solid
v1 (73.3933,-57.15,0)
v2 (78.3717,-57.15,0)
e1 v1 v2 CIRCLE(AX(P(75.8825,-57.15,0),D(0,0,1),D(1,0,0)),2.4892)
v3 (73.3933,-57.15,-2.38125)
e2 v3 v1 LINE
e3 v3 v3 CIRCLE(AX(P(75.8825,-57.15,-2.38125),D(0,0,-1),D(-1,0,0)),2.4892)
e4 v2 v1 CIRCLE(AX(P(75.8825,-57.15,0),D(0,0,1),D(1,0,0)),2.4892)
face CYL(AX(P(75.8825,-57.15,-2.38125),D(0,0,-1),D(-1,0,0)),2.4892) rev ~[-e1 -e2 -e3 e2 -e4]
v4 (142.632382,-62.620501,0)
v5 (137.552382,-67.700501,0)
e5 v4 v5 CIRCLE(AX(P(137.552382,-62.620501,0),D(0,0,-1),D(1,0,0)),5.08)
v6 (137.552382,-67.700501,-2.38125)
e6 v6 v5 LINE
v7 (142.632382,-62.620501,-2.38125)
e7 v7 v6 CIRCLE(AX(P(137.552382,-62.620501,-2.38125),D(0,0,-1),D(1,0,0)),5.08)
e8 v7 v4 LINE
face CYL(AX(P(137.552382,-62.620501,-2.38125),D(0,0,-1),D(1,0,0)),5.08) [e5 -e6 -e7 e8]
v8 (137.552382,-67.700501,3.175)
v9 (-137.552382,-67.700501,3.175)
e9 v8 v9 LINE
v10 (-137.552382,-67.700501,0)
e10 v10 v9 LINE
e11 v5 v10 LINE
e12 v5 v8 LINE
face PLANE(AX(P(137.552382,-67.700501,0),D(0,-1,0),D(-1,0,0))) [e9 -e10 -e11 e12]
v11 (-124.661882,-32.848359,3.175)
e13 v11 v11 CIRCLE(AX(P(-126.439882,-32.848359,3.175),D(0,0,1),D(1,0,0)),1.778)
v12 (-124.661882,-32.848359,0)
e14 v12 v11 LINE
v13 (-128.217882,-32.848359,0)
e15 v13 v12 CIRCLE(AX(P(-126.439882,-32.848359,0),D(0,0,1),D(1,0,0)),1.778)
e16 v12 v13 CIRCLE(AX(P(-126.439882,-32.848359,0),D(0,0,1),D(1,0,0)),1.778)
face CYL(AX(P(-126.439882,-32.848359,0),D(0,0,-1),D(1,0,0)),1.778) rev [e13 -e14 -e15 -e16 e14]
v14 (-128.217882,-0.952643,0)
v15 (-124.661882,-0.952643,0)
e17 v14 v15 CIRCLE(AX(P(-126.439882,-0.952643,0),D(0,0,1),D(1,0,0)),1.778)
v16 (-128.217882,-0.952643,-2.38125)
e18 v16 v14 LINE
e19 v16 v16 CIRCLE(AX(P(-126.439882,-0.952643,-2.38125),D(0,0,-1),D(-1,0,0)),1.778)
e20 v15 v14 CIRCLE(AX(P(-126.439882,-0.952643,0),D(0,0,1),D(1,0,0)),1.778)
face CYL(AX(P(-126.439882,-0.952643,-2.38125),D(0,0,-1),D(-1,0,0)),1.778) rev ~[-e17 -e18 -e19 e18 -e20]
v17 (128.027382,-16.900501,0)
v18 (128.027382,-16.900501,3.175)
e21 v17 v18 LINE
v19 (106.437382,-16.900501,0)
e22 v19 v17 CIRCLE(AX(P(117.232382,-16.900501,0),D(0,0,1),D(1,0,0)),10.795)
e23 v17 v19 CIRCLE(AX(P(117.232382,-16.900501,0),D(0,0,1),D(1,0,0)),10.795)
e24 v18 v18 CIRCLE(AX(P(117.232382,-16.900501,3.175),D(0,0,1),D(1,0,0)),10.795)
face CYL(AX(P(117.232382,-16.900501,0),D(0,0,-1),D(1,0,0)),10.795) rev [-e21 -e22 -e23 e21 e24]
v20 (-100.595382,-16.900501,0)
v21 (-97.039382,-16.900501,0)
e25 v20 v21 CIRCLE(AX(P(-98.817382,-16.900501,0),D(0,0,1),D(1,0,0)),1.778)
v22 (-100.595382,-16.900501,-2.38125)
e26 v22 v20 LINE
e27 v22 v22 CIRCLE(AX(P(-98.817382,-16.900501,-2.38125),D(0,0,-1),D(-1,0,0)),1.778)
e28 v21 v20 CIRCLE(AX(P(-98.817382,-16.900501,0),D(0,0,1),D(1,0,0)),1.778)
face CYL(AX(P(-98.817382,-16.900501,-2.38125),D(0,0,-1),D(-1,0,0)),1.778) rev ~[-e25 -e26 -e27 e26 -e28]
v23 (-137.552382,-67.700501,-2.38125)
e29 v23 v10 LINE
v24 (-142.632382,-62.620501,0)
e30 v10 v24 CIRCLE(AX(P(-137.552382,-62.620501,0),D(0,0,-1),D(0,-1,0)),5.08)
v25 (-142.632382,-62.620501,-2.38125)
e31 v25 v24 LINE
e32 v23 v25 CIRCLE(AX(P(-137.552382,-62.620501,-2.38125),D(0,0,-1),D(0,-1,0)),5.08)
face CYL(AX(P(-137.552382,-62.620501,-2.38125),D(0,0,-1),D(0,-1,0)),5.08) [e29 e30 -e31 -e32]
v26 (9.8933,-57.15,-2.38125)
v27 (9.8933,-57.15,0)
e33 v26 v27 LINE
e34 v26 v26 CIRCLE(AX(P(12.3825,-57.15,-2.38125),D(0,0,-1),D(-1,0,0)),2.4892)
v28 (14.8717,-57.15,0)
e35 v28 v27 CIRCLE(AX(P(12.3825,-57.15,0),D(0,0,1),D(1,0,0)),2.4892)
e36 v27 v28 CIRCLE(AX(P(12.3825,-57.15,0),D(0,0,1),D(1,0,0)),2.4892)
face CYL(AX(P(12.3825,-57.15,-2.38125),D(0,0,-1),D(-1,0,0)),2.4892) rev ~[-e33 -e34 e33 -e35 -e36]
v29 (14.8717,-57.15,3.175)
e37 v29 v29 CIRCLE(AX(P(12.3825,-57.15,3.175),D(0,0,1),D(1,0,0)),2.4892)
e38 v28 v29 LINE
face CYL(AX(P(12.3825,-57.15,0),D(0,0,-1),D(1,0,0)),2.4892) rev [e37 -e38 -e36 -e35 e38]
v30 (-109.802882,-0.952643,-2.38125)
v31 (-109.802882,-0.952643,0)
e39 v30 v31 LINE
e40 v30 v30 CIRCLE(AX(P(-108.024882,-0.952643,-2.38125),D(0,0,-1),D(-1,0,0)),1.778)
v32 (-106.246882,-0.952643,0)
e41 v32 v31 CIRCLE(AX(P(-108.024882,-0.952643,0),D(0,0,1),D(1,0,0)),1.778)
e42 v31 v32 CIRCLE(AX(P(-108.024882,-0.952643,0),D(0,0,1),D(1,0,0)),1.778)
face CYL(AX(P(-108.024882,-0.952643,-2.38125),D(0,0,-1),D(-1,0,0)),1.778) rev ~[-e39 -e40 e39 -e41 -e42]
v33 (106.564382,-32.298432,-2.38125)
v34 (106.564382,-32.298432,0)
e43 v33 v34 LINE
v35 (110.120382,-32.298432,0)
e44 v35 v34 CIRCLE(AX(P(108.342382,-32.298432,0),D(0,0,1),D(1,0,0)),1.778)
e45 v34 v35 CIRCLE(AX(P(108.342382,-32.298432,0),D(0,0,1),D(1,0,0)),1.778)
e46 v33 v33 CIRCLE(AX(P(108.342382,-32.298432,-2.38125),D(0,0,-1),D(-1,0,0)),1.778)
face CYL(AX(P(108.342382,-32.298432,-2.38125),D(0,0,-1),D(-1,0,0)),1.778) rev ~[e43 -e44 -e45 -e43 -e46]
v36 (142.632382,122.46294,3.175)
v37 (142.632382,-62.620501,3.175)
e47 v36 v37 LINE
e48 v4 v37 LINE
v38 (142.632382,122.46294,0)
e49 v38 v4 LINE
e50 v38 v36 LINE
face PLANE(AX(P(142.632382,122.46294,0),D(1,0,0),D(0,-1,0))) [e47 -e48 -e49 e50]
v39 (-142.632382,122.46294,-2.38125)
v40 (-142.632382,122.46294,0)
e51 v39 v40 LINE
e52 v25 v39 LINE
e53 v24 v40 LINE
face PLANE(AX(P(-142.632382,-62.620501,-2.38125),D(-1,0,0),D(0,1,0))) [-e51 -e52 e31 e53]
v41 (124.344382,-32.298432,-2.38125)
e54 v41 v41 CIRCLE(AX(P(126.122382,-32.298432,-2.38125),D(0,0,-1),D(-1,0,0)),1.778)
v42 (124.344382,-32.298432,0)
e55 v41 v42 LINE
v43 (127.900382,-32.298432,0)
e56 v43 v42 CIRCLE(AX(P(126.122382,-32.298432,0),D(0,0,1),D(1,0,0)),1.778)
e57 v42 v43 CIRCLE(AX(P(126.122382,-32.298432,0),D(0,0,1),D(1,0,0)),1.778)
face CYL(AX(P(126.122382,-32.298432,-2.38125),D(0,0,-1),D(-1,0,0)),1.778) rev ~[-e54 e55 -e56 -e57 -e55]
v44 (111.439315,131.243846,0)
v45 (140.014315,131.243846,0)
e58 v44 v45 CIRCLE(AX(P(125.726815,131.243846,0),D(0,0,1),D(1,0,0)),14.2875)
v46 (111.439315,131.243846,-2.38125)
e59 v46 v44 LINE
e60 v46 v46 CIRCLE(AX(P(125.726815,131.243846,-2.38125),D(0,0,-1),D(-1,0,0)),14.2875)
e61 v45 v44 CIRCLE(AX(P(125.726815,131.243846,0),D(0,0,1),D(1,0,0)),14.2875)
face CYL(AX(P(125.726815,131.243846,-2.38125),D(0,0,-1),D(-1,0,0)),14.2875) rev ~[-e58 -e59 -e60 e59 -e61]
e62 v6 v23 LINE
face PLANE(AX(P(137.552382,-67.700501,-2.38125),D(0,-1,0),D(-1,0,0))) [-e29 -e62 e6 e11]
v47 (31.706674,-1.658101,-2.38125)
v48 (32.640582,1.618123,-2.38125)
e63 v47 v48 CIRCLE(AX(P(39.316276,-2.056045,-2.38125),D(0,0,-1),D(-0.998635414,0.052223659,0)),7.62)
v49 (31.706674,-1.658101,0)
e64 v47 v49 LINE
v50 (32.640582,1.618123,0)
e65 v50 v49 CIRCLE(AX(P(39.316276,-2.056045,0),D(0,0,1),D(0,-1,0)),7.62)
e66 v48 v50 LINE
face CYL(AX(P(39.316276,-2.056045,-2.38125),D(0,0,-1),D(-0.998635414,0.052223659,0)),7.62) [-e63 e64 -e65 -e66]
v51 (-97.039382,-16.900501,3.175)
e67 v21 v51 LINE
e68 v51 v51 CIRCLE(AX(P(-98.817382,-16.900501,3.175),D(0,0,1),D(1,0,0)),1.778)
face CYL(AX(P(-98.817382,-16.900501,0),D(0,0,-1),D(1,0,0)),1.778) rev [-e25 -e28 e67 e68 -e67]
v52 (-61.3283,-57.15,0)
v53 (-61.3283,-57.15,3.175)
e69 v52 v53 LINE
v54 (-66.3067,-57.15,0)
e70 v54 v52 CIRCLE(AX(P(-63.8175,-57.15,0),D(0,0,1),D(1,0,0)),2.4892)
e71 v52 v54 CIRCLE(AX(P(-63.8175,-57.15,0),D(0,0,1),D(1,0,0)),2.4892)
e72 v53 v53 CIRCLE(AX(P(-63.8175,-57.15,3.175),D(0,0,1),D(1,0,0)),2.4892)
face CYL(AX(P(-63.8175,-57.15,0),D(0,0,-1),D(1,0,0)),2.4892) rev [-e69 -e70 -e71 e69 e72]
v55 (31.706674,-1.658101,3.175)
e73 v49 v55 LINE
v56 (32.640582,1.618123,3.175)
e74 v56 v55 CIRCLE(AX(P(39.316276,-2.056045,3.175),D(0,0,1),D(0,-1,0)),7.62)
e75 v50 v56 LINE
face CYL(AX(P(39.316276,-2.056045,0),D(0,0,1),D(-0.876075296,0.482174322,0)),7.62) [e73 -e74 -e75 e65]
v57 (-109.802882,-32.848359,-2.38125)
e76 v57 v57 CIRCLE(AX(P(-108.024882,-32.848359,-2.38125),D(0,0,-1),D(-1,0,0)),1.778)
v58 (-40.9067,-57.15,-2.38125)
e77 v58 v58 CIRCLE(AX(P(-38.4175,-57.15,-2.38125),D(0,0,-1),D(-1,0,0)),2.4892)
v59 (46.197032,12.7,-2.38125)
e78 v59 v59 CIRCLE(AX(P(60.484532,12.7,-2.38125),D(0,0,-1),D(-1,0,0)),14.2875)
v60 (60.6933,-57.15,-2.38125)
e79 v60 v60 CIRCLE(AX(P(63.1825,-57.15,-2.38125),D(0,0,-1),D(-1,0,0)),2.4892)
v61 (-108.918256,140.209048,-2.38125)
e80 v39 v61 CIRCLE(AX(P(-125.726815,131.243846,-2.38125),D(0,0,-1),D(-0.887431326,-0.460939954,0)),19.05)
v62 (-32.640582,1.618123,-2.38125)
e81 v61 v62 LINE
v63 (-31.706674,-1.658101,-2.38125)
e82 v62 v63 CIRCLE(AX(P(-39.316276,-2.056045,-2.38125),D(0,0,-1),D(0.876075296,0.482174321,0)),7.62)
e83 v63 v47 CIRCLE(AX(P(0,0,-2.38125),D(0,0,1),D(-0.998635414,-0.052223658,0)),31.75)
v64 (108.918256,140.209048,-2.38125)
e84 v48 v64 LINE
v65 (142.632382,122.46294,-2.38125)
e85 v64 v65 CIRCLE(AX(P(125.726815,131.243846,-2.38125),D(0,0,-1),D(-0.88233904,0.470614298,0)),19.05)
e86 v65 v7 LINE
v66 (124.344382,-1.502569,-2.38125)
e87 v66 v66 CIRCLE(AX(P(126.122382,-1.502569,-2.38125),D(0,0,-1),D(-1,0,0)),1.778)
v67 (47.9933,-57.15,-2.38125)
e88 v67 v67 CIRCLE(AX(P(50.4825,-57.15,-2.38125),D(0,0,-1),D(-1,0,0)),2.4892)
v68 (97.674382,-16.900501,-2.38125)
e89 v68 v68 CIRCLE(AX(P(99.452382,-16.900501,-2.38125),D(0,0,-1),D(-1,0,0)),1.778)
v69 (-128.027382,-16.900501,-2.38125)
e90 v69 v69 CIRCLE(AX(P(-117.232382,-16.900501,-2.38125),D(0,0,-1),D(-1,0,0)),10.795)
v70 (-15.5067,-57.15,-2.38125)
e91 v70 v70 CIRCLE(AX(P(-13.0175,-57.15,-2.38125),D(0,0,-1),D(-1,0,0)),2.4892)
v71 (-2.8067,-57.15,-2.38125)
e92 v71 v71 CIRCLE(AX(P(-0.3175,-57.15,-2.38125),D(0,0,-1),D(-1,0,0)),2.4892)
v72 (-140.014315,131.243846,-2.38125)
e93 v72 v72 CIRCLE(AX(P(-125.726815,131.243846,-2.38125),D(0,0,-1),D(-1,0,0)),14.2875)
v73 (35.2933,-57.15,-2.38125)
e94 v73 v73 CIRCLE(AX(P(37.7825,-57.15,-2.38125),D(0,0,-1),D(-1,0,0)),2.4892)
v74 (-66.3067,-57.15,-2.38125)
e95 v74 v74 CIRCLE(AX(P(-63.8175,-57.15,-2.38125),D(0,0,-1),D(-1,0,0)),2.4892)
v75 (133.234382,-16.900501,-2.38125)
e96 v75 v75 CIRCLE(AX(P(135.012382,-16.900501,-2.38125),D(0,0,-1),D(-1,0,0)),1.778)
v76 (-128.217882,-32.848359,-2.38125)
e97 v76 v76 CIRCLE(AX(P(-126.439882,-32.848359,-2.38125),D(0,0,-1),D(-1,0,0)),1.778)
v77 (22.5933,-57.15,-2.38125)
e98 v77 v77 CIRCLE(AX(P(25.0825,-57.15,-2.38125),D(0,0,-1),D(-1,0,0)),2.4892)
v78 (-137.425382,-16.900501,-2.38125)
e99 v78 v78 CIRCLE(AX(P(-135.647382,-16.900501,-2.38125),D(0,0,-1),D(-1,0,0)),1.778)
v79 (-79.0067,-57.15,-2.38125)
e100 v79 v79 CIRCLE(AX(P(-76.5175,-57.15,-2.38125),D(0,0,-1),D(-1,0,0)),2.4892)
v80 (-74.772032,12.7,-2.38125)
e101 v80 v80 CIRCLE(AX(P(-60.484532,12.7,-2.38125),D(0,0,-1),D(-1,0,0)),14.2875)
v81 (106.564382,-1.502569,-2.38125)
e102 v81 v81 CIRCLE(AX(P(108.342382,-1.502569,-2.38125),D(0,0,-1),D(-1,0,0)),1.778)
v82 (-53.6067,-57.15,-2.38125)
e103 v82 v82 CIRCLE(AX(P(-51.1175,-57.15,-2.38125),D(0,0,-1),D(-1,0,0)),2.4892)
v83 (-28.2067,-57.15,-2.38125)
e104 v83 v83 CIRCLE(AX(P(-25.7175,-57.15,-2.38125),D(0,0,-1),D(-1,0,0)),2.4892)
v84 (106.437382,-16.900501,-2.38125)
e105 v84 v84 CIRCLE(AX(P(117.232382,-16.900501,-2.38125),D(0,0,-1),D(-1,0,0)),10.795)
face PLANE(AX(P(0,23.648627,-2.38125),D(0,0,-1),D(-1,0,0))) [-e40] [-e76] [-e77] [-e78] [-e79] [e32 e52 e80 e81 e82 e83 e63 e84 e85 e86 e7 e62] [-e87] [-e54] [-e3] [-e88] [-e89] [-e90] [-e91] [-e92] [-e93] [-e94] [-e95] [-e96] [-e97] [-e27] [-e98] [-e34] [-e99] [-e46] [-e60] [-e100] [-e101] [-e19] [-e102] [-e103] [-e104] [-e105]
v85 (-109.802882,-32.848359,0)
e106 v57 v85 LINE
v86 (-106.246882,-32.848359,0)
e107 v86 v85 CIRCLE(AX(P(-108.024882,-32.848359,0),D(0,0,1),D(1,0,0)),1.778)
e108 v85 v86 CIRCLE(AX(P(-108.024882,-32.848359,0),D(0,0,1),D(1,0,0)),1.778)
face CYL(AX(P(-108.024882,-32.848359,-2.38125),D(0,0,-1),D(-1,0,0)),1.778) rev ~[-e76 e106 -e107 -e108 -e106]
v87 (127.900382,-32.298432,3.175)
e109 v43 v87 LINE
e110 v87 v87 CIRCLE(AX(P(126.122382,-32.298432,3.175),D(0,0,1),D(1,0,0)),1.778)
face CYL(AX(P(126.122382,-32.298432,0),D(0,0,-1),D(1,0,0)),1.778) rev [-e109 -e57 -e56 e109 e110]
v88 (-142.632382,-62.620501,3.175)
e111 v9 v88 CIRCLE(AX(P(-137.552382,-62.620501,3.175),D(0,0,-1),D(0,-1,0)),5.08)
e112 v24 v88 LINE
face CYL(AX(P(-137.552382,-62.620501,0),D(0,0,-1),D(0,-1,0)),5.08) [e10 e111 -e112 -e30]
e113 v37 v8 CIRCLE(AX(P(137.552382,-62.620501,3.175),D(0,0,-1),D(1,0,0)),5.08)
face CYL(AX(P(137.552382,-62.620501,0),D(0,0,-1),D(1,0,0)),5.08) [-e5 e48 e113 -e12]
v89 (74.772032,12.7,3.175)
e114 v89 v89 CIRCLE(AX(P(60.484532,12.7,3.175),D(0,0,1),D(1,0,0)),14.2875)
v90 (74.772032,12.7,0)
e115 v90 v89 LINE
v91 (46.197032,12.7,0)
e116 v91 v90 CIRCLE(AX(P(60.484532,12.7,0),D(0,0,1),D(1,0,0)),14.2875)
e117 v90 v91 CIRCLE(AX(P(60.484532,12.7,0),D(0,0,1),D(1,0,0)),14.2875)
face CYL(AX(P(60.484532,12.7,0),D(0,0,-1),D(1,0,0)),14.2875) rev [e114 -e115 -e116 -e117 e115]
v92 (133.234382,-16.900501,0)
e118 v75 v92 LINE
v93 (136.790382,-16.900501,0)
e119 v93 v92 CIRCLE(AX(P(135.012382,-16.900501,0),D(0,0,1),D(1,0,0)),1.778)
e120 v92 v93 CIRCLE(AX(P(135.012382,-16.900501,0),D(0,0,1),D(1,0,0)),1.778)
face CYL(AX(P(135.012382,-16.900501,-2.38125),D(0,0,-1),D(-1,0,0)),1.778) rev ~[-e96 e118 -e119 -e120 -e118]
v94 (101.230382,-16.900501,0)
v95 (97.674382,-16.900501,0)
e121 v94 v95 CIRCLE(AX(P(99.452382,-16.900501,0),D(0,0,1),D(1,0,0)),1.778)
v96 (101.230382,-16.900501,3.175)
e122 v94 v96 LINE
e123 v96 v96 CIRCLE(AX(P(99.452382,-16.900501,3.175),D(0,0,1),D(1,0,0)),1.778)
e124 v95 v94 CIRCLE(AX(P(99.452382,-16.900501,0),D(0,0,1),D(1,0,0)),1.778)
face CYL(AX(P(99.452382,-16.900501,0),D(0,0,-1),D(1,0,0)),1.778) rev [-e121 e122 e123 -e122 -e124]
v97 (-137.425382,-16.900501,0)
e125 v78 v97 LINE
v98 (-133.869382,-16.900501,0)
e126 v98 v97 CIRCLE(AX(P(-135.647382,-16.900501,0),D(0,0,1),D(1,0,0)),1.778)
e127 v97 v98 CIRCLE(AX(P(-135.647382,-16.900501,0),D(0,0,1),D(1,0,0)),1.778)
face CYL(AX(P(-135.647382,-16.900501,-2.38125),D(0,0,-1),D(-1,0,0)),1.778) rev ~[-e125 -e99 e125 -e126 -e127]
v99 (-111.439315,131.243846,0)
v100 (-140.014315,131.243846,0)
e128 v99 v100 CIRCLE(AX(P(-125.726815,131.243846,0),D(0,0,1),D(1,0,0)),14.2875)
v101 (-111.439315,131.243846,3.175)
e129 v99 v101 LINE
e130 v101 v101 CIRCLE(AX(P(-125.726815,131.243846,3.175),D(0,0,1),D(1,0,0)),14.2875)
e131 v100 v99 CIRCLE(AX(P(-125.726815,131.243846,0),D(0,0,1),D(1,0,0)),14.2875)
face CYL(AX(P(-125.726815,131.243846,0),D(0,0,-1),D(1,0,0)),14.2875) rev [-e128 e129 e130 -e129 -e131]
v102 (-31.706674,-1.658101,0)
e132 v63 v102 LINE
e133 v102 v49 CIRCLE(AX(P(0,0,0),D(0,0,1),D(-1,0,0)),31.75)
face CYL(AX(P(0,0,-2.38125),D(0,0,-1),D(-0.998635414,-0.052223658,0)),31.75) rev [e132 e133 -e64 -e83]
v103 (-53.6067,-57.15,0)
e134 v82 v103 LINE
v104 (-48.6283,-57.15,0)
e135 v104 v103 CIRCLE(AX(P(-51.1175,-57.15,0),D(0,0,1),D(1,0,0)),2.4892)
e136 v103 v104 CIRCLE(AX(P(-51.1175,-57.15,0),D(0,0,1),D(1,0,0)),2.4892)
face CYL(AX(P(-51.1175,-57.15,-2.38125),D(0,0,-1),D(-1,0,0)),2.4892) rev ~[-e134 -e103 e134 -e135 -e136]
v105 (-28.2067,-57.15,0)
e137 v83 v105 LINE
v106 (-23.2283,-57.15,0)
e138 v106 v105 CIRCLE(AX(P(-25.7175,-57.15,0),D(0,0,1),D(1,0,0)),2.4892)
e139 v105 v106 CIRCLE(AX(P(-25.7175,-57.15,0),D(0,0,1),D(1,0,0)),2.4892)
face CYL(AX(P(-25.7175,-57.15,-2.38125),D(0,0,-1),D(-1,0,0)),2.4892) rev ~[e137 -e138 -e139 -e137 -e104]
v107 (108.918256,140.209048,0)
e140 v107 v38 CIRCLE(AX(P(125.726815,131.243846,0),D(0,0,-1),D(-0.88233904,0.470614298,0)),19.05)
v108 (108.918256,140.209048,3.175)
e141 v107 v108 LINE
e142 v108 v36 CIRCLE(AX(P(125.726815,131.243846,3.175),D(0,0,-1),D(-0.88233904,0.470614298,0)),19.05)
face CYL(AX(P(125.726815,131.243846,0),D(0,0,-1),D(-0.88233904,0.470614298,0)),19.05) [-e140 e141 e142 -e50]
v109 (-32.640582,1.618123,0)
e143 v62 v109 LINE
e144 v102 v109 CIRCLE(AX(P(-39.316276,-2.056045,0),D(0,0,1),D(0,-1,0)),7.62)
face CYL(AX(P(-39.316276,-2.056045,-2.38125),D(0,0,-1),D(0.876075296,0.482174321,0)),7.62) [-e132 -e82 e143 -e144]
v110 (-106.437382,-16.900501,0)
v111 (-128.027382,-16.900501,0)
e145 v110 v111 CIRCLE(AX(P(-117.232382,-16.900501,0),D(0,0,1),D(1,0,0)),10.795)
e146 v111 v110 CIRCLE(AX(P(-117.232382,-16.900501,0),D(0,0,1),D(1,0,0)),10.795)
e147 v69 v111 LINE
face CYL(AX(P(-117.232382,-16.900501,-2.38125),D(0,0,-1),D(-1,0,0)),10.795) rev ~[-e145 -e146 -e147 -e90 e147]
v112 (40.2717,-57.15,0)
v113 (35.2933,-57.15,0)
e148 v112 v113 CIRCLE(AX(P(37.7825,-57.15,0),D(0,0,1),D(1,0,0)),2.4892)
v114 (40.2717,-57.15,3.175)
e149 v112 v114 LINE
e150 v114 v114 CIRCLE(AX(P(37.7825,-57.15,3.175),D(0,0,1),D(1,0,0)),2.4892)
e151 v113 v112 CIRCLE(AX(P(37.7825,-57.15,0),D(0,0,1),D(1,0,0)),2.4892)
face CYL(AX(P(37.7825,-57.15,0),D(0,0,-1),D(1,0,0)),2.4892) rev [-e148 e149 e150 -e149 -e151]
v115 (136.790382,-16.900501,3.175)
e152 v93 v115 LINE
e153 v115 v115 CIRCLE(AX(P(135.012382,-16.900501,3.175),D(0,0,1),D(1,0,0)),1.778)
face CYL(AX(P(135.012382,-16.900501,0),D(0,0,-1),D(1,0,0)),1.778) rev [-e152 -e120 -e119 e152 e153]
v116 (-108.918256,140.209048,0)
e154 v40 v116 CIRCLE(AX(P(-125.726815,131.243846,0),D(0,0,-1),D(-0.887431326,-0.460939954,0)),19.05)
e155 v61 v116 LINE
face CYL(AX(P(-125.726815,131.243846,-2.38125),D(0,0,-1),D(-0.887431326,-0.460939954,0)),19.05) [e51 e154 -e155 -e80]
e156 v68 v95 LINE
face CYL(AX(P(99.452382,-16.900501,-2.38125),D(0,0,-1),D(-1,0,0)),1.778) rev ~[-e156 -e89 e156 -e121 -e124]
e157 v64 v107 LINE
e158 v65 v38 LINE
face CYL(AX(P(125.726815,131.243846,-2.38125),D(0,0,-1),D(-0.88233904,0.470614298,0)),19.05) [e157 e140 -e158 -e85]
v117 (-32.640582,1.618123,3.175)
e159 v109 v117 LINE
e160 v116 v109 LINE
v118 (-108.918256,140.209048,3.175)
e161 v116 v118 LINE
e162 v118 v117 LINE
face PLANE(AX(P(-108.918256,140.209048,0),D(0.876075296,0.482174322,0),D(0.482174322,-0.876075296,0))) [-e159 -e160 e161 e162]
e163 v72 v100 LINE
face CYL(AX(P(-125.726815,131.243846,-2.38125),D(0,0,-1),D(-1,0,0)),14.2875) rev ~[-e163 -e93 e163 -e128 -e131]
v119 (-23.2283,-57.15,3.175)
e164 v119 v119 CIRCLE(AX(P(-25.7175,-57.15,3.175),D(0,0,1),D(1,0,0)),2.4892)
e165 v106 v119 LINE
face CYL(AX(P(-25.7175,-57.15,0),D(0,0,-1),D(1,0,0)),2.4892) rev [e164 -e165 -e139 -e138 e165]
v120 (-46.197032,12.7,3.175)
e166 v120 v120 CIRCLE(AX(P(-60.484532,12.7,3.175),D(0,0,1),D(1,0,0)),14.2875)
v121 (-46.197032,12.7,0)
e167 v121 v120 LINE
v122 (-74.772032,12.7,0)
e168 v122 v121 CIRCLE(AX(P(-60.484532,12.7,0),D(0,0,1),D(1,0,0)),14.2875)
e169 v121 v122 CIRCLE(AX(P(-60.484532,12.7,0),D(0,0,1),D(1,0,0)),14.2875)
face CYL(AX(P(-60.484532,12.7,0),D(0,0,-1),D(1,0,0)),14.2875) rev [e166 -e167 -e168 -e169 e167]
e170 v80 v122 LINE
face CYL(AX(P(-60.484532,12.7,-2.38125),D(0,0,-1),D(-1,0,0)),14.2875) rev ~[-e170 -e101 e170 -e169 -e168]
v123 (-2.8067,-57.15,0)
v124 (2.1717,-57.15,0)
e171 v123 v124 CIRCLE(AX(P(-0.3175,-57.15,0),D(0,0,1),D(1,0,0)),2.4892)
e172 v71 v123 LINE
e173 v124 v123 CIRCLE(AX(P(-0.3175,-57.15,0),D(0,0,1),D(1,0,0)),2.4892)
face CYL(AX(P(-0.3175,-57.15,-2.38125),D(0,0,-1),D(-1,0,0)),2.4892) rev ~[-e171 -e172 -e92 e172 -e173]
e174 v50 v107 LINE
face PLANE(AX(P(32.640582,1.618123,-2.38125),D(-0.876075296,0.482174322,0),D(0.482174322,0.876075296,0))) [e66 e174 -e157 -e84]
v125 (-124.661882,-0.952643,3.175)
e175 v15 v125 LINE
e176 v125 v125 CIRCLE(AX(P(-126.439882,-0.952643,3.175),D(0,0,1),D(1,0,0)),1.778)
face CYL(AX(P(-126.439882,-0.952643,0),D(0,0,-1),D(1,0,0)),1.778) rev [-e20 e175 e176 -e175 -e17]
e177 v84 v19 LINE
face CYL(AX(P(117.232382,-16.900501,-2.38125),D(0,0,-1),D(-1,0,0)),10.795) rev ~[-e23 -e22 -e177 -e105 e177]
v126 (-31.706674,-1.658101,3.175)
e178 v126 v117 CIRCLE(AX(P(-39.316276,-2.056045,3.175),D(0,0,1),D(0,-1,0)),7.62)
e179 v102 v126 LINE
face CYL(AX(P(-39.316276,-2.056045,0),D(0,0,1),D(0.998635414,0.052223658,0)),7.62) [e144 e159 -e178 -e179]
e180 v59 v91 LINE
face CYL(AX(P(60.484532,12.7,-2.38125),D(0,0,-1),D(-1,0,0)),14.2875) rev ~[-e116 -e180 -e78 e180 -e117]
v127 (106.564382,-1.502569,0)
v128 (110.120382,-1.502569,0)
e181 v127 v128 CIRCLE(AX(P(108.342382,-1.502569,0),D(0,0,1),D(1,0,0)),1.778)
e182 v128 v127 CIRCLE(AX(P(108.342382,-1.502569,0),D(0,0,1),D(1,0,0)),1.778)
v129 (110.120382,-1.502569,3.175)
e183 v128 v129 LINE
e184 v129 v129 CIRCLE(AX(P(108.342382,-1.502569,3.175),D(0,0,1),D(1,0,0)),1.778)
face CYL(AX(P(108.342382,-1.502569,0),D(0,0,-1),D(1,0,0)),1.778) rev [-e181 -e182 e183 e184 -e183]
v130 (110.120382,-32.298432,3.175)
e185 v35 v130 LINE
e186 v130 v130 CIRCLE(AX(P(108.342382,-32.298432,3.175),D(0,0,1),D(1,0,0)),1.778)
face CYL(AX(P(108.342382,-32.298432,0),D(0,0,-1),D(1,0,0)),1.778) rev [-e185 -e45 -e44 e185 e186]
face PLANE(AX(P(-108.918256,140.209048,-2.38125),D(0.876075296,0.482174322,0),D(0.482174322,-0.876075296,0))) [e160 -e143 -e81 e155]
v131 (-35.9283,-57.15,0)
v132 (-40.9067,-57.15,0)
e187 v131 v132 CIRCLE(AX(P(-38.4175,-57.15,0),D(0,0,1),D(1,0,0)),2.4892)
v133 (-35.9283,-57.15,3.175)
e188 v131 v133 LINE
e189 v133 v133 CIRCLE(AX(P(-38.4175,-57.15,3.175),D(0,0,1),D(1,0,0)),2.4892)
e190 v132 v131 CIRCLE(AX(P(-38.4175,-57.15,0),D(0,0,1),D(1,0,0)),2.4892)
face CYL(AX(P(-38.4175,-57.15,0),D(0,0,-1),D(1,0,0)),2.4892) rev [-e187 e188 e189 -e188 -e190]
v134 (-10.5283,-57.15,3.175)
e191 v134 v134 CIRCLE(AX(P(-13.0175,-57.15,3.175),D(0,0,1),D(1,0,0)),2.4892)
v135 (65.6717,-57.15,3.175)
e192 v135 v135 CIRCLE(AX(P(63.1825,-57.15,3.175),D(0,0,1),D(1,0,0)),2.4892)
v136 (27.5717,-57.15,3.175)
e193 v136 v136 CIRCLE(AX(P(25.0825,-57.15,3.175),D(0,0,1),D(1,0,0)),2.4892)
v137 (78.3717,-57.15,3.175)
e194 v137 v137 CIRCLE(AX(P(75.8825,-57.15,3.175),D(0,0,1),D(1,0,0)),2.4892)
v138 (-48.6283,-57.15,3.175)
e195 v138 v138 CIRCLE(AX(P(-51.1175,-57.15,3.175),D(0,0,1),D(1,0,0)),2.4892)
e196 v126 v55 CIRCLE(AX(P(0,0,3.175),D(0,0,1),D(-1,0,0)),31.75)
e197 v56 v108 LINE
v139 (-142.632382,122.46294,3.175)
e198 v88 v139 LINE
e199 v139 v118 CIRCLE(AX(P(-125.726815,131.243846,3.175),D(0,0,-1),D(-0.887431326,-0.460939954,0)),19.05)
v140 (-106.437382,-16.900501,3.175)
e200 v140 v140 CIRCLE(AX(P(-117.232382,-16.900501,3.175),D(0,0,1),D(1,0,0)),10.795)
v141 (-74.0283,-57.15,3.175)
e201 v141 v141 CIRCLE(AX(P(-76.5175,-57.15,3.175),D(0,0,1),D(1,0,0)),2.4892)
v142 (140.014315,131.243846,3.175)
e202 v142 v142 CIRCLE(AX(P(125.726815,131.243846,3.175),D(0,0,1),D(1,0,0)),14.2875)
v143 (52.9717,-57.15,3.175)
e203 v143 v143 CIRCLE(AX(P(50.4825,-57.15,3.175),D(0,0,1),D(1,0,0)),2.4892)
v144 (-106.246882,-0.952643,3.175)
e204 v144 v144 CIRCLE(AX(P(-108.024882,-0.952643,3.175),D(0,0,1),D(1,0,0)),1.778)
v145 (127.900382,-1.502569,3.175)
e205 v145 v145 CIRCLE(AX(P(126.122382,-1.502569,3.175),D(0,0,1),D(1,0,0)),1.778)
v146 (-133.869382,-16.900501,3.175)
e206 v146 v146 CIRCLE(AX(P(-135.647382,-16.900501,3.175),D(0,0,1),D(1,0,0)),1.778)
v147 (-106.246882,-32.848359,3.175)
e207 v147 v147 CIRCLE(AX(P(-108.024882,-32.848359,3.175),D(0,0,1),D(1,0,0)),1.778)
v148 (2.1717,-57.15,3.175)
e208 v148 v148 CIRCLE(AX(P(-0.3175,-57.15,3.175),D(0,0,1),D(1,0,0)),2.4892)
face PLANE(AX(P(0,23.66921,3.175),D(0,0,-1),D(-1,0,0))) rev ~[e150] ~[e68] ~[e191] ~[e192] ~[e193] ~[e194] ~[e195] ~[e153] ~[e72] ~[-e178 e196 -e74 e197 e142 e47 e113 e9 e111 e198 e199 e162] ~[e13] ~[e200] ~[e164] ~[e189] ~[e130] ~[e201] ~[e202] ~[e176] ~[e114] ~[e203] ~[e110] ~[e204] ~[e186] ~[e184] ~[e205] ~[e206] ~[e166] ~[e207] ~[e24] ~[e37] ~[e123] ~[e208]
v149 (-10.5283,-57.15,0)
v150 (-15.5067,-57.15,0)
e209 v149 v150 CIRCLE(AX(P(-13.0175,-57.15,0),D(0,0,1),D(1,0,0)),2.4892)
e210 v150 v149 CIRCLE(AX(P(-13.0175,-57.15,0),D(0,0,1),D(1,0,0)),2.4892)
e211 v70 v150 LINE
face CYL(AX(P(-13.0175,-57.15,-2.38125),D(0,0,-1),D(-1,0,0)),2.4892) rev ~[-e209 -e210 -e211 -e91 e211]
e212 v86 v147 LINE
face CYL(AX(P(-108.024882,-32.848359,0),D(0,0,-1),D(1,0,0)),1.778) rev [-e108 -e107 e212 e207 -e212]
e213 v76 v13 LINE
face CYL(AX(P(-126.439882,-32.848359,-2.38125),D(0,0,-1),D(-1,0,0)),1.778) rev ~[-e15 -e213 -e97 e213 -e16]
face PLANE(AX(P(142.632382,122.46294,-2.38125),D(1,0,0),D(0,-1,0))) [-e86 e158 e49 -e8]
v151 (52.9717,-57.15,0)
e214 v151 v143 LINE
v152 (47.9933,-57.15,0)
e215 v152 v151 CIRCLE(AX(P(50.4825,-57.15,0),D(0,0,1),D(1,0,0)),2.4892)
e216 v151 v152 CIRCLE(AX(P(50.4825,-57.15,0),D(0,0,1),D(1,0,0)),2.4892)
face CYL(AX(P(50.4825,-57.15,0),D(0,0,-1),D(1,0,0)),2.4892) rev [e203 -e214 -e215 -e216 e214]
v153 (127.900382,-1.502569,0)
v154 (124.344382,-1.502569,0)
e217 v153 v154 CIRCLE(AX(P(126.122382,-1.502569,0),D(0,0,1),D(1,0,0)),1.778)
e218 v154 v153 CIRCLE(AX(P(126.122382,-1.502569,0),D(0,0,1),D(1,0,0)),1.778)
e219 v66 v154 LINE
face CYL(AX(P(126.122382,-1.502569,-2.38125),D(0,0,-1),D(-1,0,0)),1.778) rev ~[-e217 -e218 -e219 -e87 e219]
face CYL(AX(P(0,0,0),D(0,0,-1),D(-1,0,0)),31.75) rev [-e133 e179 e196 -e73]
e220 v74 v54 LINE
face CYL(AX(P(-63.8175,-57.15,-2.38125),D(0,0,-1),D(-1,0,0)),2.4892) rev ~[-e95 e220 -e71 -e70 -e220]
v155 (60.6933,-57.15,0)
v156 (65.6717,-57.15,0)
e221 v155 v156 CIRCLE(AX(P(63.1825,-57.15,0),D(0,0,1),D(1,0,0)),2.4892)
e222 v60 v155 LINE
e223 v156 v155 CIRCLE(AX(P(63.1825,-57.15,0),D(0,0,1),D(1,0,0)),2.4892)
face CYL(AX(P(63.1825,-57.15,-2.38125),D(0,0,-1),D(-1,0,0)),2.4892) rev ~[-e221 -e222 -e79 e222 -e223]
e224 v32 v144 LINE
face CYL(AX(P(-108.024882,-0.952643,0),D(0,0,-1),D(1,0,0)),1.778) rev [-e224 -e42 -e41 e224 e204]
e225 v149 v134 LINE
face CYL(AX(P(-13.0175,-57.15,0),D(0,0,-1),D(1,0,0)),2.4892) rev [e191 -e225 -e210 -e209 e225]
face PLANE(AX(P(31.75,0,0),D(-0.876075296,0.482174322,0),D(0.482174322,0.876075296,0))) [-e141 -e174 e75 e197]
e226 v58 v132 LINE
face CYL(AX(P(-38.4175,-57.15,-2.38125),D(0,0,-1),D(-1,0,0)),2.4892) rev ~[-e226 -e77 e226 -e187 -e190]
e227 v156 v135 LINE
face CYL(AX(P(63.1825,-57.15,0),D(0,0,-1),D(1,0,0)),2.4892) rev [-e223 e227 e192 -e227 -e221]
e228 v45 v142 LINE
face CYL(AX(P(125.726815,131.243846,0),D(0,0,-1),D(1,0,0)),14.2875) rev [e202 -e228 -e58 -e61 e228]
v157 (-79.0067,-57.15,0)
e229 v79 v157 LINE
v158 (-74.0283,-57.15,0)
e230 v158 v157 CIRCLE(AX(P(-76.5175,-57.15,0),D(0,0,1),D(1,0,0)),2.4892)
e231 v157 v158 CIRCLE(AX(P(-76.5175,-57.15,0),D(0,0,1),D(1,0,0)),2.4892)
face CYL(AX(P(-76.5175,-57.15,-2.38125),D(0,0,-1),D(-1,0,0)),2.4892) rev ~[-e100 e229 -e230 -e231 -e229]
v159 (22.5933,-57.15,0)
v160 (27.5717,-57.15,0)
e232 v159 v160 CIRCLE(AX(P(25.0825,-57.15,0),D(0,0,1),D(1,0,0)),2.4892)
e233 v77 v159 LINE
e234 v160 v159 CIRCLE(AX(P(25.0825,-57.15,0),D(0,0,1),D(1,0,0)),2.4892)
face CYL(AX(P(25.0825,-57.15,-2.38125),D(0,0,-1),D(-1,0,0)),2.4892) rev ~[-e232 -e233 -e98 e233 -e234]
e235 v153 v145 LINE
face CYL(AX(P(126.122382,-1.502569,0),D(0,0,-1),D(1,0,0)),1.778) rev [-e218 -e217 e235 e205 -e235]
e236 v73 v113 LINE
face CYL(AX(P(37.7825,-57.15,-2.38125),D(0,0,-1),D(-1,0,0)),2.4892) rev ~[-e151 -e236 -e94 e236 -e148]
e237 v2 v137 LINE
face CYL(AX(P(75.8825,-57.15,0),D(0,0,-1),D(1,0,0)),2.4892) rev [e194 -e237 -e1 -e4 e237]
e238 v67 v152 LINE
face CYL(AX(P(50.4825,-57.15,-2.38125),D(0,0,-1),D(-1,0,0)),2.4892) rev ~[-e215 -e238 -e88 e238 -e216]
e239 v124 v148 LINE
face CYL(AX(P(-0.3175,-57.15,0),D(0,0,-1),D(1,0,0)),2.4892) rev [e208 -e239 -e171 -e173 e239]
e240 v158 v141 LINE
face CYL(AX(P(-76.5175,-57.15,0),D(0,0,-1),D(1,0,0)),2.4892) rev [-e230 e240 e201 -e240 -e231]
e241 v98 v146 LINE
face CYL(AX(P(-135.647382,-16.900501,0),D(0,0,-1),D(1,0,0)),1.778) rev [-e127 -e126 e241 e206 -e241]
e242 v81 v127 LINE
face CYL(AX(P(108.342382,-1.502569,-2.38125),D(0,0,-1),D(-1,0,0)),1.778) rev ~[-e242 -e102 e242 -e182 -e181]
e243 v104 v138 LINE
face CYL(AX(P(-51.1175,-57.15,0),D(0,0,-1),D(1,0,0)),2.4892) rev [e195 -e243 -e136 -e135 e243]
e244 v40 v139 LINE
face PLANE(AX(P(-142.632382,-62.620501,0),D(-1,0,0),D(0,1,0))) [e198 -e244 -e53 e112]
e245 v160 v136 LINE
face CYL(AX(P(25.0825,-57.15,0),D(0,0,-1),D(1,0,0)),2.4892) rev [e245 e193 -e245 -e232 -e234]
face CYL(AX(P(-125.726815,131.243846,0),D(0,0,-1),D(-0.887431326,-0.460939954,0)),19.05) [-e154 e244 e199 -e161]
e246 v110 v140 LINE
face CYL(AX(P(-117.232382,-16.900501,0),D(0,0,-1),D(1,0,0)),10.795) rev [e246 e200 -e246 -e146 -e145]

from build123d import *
from build123d.topology import SkipClean

# Parameters (mm, degrees)
SKETCH2_R           = 14.2875
SKETCH2_R_2         = 2.4892
SKETCH2_R_3         = 10.795
SKETCH2_R_4         = 1.778
BOSS_EXTRUDE1_DEPTH = 3.175
FILLET1_R           = 7.62
BOSS_EXTRUDE2_START = 2.38125
SKETCH4_R           = 14.2875
SKETCH4_R_2         = 1.778
SKETCH4_R_3         = 10.795
SKETCH4_R_4         = 2.4892
BOSS_EXTRUDE2_DEPTH = 2.38125


with BuildPart() as part:
    # Sketch2 → Boss-Extrude1 (new body)
    with BuildSketch(Plane.XY):
        with BuildLine():
            Line((142.632381685, 122.462939957), (142.632381685, -29.937060043))
            Line((142.632381685, -29.937060043), (142.632381685, -56.741928905))
            Line((142.632381685, -56.741928905), (142.632381685, -62.620500771))
            ThreePointArc((142.632381685, -62.620500771), (141.144484133, -66.21260322), (137.552381685, -67.700500771))
            Line((137.552381685, -67.700500771), (-137.552381685, -67.700500771))
            ThreePointArc((-137.552381685, -67.700500771), (-141.144484133, -66.21260322), (-142.632381685, -62.620500771))
            Line((-142.632381685, -62.620500771), (-142.632381685, -56.741928905))
            Line((-142.632381685, -56.741928905), (-142.632381685, -29.937060043))
            Line((-142.632381685, -29.937060043), (-142.632381685, 122.462939957))
            ThreePointArc((-142.632381685, 122.462939957), (-134.600001748, 148.101160684), (-108.918256202, 140.209048469))
            Line((-108.918256202, 140.209048469), (-31.75, 0))
            ThreePointArc((-31.75, 0), (0, -31.75), (31.75, 0))
            Line((31.75, 0), (108.918256202, 140.209048469))
            ThreePointArc((108.918256202, 140.209048469), (134.600001748, 148.101160684), (142.632381685, 122.462939957))
        make_face()
        with Locations((-60.484532313, 12.7)):
            Circle(SKETCH2_R, mode=Mode.SUBTRACT)
        with Locations((-125.726814921, 131.243846084)):
            Circle(SKETCH2_R, mode=Mode.SUBTRACT)
        with Locations((125.726814921, 131.243846084)):
            Circle(SKETCH2_R, mode=Mode.SUBTRACT)
        with Locations((60.484532313, 12.7)):
            Circle(SKETCH2_R, mode=Mode.SUBTRACT)
        with Locations((-76.5175, -57.15)):
            Circle(SKETCH2_R_2, mode=Mode.SUBTRACT)
        with Locations((-63.8175, -57.15)):
            Circle(SKETCH2_R_2, mode=Mode.SUBTRACT)
        with Locations((-51.1175, -57.15)):
            Circle(SKETCH2_R_2, mode=Mode.SUBTRACT)
        with Locations((-38.4175, -57.15)):
            Circle(SKETCH2_R_2, mode=Mode.SUBTRACT)
        with Locations((-25.7175, -57.15)):
            Circle(SKETCH2_R_2, mode=Mode.SUBTRACT)
        with Locations((-13.0175, -57.15)):
            Circle(SKETCH2_R_2, mode=Mode.SUBTRACT)
        with Locations((-0.3175, -57.15)):
            Circle(SKETCH2_R_2, mode=Mode.SUBTRACT)
        with Locations((12.3825, -57.15)):
            Circle(SKETCH2_R_2, mode=Mode.SUBTRACT)
        with Locations((25.0825, -57.15)):
            Circle(SKETCH2_R_2, mode=Mode.SUBTRACT)
        with Locations((37.7825, -57.15)):
            Circle(SKETCH2_R_2, mode=Mode.SUBTRACT)
        with Locations((50.4825, -57.15)):
            Circle(SKETCH2_R_2, mode=Mode.SUBTRACT)
        with Locations((63.1825, -57.15)):
            Circle(SKETCH2_R_2, mode=Mode.SUBTRACT)
        with Locations((75.8825, -57.15)):
            Circle(SKETCH2_R_2, mode=Mode.SUBTRACT)
        with Locations((-117.232381685, -16.900500771)):
            Circle(SKETCH2_R_3, mode=Mode.SUBTRACT)
        with Locations((117.232381685, -16.900500771)):
            Circle(SKETCH2_R_3, mode=Mode.SUBTRACT)
        with Locations((-135.647381685, -16.900500771)):
            Circle(SKETCH2_R_4, mode=Mode.SUBTRACT)
        with Locations((-126.439881685, -0.95264296)):
            Circle(SKETCH2_R_4, mode=Mode.SUBTRACT)
        with Locations((-108.024881685, -0.95264296)):
            Circle(SKETCH2_R_4, mode=Mode.SUBTRACT)
        with Locations((-98.817381685, -16.900500771)):
            Circle(SKETCH2_R_4, mode=Mode.SUBTRACT)
        with Locations((-108.024881685, -32.848358582)):
            Circle(SKETCH2_R_4, mode=Mode.SUBTRACT)
        with Locations((-126.439881685, -32.848358582)):
            Circle(SKETCH2_R_4, mode=Mode.SUBTRACT)
        with Locations((99.452381685, -16.900500771)):
            Circle(SKETCH2_R_4, mode=Mode.SUBTRACT)
        with Locations((108.342381685, -1.502569092)):
            Circle(SKETCH2_R_4, mode=Mode.SUBTRACT)
        with Locations((126.122381685, -1.502569092)):
            Circle(SKETCH2_R_4, mode=Mode.SUBTRACT)
        with Locations((135.012381685, -16.900500771)):
            Circle(SKETCH2_R_4, mode=Mode.SUBTRACT)
        with Locations((126.122381685, -32.29843245)):
            Circle(SKETCH2_R_4, mode=Mode.SUBTRACT)
        with Locations((108.342381685, -32.29843245)):
            Circle(SKETCH2_R_4, mode=Mode.SUBTRACT)
    extrude(amount=BOSS_EXTRUDE1_DEPTH)

    # Fillet1
    fillet1_edges = [part.edges().sort_by_distance(p)[0] for p in [
        (-31.75, 0, 1.5875),
        (31.75, 0, 1.5875),
    ]]
    fillet(fillet1_edges, radius=FILLET1_R)

    # Sketch4 → Boss-Extrude2 (add)
    with SkipClean():  # the faces are left unmerged after this step: merging them gives an invalid solid
        with BuildSketch(Plane(origin=(0, 0, 0), x_dir=(-1, 0, 0), z_dir=(0, 0, -1)).offset(BOSS_EXTRUDE2_START)):
            with BuildLine():
                Line((-32.640582486, 1.618122906), (-108.918256202, 140.209048469))
                ThreePointArc((-108.918256202, 140.209048469), (-134.600001748, 148.101160684), (-142.632381685, 122.462939957))
                Line((-142.632381685, 122.462939957), (-142.632381685, -62.620500771))
                ThreePointArc((-142.632381685, -62.620500771), (-141.144484133, -66.21260322), (-137.552381685, -67.700500771))
                Line((-137.552381685, -67.700500771), (137.552381685, -67.700500771))
                ThreePointArc((137.552381685, -67.700500771), (141.144484133, -66.21260322), (142.632381685, -62.620500771))
                Line((142.632381685, -62.620500771), (142.632381685, 122.462939957))
                ThreePointArc((142.632381685, 122.462939957), (134.600001748, 148.101160684), (108.918256202, 140.209048469))
                Line((108.918256202, 140.209048469), (32.640582486, 1.618122906))
                ThreePointArc((32.640582486, 1.618122906), (31.988191315, 0.032870886), (31.706674385, -1.65810115))
                ThreePointArc((31.706674385, -1.65810115), (0, -31.75), (-31.706674385, -1.65810115))
                ThreePointArc((-31.706674385, -1.65810115), (-31.988191315, 0.032870886), (-32.640582486, 1.618122906))
            make_face()
            with Locations((125.726814921, 131.243846084)):
                Circle(SKETCH4_R, mode=Mode.SUBTRACT)
            with Locations((108.024881685, -32.848358582)):
                Circle(SKETCH4_R_2, mode=Mode.SUBTRACT)
            with Locations((126.439881685, -32.848358582)):
                Circle(SKETCH4_R_2, mode=Mode.SUBTRACT)
            with Locations((135.647381685, -16.900500771)):
                Circle(SKETCH4_R_2, mode=Mode.SUBTRACT)
            with Locations((126.439881685, -0.95264296)):
                Circle(SKETCH4_R_2, mode=Mode.SUBTRACT)
            with Locations((108.024881685, -0.95264296)):
                Circle(SKETCH4_R_2, mode=Mode.SUBTRACT)
            with Locations((98.817381685, -16.900500771)):
                Circle(SKETCH4_R_2, mode=Mode.SUBTRACT)
            with Locations((117.232381685, -16.900500771)):
                Circle(SKETCH4_R_3, mode=Mode.SUBTRACT)
            with Locations((60.484532313, 12.7)):
                Circle(SKETCH4_R, mode=Mode.SUBTRACT)
            with Locations((76.5175, -57.15)):
                Circle(SKETCH4_R_4, mode=Mode.SUBTRACT)
            with Locations((63.8175, -57.15)):
                Circle(SKETCH4_R_4, mode=Mode.SUBTRACT)
            with Locations((51.1175, -57.15)):
                Circle(SKETCH4_R_4, mode=Mode.SUBTRACT)
            with Locations((38.4175, -57.15)):
                Circle(SKETCH4_R_4, mode=Mode.SUBTRACT)
            with Locations((25.7175, -57.15)):
                Circle(SKETCH4_R_4, mode=Mode.SUBTRACT)
            with Locations((13.0175, -57.15)):
                Circle(SKETCH4_R_4, mode=Mode.SUBTRACT)
            with Locations((0.3175, -57.15)):
                Circle(SKETCH4_R_4, mode=Mode.SUBTRACT)
            with Locations((-12.3825, -57.15)):
                Circle(SKETCH4_R_4, mode=Mode.SUBTRACT)
            with Locations((-25.0825, -57.15)):
                Circle(SKETCH4_R_4, mode=Mode.SUBTRACT)
            with Locations((-37.7825, -57.15)):
                Circle(SKETCH4_R_4, mode=Mode.SUBTRACT)
            with Locations((-50.4825, -57.15)):
                Circle(SKETCH4_R_4, mode=Mode.SUBTRACT)
            with Locations((-63.1825, -57.15)):
                Circle(SKETCH4_R_4, mode=Mode.SUBTRACT)
            with Locations((-75.8825, -57.15)):
                Circle(SKETCH4_R_4, mode=Mode.SUBTRACT)
            with Locations((-99.452381685, -16.900500771)):
                Circle(SKETCH4_R_2, mode=Mode.SUBTRACT)
            with Locations((-108.342381685, -32.29843245)):
                Circle(SKETCH4_R_2, mode=Mode.SUBTRACT)
            with Locations((-126.122381685, -32.29843245)):
                Circle(SKETCH4_R_2, mode=Mode.SUBTRACT)
            with Locations((-135.012381685, -16.900500771)):
                Circle(SKETCH4_R_2, mode=Mode.SUBTRACT)
            with Locations((-126.122381685, -1.502569092)):
                Circle(SKETCH4_R_2, mode=Mode.SUBTRACT)
            with Locations((-108.342381685, -1.502569092)):
                Circle(SKETCH4_R_2, mode=Mode.SUBTRACT)
            with Locations((-117.232381685, -16.900500771)):
                Circle(SKETCH4_R_3, mode=Mode.SUBTRACT)
            with Locations((-60.484532313, 12.7)):
                Circle(SKETCH4_R, mode=Mode.SUBTRACT)
            with Locations((-125.726814921, 131.243846084)):
                Circle(SKETCH4_R, mode=Mode.SUBTRACT)
        extrude(amount=-BOSS_EXTRUDE2_DEPTH)


solid = part.part
